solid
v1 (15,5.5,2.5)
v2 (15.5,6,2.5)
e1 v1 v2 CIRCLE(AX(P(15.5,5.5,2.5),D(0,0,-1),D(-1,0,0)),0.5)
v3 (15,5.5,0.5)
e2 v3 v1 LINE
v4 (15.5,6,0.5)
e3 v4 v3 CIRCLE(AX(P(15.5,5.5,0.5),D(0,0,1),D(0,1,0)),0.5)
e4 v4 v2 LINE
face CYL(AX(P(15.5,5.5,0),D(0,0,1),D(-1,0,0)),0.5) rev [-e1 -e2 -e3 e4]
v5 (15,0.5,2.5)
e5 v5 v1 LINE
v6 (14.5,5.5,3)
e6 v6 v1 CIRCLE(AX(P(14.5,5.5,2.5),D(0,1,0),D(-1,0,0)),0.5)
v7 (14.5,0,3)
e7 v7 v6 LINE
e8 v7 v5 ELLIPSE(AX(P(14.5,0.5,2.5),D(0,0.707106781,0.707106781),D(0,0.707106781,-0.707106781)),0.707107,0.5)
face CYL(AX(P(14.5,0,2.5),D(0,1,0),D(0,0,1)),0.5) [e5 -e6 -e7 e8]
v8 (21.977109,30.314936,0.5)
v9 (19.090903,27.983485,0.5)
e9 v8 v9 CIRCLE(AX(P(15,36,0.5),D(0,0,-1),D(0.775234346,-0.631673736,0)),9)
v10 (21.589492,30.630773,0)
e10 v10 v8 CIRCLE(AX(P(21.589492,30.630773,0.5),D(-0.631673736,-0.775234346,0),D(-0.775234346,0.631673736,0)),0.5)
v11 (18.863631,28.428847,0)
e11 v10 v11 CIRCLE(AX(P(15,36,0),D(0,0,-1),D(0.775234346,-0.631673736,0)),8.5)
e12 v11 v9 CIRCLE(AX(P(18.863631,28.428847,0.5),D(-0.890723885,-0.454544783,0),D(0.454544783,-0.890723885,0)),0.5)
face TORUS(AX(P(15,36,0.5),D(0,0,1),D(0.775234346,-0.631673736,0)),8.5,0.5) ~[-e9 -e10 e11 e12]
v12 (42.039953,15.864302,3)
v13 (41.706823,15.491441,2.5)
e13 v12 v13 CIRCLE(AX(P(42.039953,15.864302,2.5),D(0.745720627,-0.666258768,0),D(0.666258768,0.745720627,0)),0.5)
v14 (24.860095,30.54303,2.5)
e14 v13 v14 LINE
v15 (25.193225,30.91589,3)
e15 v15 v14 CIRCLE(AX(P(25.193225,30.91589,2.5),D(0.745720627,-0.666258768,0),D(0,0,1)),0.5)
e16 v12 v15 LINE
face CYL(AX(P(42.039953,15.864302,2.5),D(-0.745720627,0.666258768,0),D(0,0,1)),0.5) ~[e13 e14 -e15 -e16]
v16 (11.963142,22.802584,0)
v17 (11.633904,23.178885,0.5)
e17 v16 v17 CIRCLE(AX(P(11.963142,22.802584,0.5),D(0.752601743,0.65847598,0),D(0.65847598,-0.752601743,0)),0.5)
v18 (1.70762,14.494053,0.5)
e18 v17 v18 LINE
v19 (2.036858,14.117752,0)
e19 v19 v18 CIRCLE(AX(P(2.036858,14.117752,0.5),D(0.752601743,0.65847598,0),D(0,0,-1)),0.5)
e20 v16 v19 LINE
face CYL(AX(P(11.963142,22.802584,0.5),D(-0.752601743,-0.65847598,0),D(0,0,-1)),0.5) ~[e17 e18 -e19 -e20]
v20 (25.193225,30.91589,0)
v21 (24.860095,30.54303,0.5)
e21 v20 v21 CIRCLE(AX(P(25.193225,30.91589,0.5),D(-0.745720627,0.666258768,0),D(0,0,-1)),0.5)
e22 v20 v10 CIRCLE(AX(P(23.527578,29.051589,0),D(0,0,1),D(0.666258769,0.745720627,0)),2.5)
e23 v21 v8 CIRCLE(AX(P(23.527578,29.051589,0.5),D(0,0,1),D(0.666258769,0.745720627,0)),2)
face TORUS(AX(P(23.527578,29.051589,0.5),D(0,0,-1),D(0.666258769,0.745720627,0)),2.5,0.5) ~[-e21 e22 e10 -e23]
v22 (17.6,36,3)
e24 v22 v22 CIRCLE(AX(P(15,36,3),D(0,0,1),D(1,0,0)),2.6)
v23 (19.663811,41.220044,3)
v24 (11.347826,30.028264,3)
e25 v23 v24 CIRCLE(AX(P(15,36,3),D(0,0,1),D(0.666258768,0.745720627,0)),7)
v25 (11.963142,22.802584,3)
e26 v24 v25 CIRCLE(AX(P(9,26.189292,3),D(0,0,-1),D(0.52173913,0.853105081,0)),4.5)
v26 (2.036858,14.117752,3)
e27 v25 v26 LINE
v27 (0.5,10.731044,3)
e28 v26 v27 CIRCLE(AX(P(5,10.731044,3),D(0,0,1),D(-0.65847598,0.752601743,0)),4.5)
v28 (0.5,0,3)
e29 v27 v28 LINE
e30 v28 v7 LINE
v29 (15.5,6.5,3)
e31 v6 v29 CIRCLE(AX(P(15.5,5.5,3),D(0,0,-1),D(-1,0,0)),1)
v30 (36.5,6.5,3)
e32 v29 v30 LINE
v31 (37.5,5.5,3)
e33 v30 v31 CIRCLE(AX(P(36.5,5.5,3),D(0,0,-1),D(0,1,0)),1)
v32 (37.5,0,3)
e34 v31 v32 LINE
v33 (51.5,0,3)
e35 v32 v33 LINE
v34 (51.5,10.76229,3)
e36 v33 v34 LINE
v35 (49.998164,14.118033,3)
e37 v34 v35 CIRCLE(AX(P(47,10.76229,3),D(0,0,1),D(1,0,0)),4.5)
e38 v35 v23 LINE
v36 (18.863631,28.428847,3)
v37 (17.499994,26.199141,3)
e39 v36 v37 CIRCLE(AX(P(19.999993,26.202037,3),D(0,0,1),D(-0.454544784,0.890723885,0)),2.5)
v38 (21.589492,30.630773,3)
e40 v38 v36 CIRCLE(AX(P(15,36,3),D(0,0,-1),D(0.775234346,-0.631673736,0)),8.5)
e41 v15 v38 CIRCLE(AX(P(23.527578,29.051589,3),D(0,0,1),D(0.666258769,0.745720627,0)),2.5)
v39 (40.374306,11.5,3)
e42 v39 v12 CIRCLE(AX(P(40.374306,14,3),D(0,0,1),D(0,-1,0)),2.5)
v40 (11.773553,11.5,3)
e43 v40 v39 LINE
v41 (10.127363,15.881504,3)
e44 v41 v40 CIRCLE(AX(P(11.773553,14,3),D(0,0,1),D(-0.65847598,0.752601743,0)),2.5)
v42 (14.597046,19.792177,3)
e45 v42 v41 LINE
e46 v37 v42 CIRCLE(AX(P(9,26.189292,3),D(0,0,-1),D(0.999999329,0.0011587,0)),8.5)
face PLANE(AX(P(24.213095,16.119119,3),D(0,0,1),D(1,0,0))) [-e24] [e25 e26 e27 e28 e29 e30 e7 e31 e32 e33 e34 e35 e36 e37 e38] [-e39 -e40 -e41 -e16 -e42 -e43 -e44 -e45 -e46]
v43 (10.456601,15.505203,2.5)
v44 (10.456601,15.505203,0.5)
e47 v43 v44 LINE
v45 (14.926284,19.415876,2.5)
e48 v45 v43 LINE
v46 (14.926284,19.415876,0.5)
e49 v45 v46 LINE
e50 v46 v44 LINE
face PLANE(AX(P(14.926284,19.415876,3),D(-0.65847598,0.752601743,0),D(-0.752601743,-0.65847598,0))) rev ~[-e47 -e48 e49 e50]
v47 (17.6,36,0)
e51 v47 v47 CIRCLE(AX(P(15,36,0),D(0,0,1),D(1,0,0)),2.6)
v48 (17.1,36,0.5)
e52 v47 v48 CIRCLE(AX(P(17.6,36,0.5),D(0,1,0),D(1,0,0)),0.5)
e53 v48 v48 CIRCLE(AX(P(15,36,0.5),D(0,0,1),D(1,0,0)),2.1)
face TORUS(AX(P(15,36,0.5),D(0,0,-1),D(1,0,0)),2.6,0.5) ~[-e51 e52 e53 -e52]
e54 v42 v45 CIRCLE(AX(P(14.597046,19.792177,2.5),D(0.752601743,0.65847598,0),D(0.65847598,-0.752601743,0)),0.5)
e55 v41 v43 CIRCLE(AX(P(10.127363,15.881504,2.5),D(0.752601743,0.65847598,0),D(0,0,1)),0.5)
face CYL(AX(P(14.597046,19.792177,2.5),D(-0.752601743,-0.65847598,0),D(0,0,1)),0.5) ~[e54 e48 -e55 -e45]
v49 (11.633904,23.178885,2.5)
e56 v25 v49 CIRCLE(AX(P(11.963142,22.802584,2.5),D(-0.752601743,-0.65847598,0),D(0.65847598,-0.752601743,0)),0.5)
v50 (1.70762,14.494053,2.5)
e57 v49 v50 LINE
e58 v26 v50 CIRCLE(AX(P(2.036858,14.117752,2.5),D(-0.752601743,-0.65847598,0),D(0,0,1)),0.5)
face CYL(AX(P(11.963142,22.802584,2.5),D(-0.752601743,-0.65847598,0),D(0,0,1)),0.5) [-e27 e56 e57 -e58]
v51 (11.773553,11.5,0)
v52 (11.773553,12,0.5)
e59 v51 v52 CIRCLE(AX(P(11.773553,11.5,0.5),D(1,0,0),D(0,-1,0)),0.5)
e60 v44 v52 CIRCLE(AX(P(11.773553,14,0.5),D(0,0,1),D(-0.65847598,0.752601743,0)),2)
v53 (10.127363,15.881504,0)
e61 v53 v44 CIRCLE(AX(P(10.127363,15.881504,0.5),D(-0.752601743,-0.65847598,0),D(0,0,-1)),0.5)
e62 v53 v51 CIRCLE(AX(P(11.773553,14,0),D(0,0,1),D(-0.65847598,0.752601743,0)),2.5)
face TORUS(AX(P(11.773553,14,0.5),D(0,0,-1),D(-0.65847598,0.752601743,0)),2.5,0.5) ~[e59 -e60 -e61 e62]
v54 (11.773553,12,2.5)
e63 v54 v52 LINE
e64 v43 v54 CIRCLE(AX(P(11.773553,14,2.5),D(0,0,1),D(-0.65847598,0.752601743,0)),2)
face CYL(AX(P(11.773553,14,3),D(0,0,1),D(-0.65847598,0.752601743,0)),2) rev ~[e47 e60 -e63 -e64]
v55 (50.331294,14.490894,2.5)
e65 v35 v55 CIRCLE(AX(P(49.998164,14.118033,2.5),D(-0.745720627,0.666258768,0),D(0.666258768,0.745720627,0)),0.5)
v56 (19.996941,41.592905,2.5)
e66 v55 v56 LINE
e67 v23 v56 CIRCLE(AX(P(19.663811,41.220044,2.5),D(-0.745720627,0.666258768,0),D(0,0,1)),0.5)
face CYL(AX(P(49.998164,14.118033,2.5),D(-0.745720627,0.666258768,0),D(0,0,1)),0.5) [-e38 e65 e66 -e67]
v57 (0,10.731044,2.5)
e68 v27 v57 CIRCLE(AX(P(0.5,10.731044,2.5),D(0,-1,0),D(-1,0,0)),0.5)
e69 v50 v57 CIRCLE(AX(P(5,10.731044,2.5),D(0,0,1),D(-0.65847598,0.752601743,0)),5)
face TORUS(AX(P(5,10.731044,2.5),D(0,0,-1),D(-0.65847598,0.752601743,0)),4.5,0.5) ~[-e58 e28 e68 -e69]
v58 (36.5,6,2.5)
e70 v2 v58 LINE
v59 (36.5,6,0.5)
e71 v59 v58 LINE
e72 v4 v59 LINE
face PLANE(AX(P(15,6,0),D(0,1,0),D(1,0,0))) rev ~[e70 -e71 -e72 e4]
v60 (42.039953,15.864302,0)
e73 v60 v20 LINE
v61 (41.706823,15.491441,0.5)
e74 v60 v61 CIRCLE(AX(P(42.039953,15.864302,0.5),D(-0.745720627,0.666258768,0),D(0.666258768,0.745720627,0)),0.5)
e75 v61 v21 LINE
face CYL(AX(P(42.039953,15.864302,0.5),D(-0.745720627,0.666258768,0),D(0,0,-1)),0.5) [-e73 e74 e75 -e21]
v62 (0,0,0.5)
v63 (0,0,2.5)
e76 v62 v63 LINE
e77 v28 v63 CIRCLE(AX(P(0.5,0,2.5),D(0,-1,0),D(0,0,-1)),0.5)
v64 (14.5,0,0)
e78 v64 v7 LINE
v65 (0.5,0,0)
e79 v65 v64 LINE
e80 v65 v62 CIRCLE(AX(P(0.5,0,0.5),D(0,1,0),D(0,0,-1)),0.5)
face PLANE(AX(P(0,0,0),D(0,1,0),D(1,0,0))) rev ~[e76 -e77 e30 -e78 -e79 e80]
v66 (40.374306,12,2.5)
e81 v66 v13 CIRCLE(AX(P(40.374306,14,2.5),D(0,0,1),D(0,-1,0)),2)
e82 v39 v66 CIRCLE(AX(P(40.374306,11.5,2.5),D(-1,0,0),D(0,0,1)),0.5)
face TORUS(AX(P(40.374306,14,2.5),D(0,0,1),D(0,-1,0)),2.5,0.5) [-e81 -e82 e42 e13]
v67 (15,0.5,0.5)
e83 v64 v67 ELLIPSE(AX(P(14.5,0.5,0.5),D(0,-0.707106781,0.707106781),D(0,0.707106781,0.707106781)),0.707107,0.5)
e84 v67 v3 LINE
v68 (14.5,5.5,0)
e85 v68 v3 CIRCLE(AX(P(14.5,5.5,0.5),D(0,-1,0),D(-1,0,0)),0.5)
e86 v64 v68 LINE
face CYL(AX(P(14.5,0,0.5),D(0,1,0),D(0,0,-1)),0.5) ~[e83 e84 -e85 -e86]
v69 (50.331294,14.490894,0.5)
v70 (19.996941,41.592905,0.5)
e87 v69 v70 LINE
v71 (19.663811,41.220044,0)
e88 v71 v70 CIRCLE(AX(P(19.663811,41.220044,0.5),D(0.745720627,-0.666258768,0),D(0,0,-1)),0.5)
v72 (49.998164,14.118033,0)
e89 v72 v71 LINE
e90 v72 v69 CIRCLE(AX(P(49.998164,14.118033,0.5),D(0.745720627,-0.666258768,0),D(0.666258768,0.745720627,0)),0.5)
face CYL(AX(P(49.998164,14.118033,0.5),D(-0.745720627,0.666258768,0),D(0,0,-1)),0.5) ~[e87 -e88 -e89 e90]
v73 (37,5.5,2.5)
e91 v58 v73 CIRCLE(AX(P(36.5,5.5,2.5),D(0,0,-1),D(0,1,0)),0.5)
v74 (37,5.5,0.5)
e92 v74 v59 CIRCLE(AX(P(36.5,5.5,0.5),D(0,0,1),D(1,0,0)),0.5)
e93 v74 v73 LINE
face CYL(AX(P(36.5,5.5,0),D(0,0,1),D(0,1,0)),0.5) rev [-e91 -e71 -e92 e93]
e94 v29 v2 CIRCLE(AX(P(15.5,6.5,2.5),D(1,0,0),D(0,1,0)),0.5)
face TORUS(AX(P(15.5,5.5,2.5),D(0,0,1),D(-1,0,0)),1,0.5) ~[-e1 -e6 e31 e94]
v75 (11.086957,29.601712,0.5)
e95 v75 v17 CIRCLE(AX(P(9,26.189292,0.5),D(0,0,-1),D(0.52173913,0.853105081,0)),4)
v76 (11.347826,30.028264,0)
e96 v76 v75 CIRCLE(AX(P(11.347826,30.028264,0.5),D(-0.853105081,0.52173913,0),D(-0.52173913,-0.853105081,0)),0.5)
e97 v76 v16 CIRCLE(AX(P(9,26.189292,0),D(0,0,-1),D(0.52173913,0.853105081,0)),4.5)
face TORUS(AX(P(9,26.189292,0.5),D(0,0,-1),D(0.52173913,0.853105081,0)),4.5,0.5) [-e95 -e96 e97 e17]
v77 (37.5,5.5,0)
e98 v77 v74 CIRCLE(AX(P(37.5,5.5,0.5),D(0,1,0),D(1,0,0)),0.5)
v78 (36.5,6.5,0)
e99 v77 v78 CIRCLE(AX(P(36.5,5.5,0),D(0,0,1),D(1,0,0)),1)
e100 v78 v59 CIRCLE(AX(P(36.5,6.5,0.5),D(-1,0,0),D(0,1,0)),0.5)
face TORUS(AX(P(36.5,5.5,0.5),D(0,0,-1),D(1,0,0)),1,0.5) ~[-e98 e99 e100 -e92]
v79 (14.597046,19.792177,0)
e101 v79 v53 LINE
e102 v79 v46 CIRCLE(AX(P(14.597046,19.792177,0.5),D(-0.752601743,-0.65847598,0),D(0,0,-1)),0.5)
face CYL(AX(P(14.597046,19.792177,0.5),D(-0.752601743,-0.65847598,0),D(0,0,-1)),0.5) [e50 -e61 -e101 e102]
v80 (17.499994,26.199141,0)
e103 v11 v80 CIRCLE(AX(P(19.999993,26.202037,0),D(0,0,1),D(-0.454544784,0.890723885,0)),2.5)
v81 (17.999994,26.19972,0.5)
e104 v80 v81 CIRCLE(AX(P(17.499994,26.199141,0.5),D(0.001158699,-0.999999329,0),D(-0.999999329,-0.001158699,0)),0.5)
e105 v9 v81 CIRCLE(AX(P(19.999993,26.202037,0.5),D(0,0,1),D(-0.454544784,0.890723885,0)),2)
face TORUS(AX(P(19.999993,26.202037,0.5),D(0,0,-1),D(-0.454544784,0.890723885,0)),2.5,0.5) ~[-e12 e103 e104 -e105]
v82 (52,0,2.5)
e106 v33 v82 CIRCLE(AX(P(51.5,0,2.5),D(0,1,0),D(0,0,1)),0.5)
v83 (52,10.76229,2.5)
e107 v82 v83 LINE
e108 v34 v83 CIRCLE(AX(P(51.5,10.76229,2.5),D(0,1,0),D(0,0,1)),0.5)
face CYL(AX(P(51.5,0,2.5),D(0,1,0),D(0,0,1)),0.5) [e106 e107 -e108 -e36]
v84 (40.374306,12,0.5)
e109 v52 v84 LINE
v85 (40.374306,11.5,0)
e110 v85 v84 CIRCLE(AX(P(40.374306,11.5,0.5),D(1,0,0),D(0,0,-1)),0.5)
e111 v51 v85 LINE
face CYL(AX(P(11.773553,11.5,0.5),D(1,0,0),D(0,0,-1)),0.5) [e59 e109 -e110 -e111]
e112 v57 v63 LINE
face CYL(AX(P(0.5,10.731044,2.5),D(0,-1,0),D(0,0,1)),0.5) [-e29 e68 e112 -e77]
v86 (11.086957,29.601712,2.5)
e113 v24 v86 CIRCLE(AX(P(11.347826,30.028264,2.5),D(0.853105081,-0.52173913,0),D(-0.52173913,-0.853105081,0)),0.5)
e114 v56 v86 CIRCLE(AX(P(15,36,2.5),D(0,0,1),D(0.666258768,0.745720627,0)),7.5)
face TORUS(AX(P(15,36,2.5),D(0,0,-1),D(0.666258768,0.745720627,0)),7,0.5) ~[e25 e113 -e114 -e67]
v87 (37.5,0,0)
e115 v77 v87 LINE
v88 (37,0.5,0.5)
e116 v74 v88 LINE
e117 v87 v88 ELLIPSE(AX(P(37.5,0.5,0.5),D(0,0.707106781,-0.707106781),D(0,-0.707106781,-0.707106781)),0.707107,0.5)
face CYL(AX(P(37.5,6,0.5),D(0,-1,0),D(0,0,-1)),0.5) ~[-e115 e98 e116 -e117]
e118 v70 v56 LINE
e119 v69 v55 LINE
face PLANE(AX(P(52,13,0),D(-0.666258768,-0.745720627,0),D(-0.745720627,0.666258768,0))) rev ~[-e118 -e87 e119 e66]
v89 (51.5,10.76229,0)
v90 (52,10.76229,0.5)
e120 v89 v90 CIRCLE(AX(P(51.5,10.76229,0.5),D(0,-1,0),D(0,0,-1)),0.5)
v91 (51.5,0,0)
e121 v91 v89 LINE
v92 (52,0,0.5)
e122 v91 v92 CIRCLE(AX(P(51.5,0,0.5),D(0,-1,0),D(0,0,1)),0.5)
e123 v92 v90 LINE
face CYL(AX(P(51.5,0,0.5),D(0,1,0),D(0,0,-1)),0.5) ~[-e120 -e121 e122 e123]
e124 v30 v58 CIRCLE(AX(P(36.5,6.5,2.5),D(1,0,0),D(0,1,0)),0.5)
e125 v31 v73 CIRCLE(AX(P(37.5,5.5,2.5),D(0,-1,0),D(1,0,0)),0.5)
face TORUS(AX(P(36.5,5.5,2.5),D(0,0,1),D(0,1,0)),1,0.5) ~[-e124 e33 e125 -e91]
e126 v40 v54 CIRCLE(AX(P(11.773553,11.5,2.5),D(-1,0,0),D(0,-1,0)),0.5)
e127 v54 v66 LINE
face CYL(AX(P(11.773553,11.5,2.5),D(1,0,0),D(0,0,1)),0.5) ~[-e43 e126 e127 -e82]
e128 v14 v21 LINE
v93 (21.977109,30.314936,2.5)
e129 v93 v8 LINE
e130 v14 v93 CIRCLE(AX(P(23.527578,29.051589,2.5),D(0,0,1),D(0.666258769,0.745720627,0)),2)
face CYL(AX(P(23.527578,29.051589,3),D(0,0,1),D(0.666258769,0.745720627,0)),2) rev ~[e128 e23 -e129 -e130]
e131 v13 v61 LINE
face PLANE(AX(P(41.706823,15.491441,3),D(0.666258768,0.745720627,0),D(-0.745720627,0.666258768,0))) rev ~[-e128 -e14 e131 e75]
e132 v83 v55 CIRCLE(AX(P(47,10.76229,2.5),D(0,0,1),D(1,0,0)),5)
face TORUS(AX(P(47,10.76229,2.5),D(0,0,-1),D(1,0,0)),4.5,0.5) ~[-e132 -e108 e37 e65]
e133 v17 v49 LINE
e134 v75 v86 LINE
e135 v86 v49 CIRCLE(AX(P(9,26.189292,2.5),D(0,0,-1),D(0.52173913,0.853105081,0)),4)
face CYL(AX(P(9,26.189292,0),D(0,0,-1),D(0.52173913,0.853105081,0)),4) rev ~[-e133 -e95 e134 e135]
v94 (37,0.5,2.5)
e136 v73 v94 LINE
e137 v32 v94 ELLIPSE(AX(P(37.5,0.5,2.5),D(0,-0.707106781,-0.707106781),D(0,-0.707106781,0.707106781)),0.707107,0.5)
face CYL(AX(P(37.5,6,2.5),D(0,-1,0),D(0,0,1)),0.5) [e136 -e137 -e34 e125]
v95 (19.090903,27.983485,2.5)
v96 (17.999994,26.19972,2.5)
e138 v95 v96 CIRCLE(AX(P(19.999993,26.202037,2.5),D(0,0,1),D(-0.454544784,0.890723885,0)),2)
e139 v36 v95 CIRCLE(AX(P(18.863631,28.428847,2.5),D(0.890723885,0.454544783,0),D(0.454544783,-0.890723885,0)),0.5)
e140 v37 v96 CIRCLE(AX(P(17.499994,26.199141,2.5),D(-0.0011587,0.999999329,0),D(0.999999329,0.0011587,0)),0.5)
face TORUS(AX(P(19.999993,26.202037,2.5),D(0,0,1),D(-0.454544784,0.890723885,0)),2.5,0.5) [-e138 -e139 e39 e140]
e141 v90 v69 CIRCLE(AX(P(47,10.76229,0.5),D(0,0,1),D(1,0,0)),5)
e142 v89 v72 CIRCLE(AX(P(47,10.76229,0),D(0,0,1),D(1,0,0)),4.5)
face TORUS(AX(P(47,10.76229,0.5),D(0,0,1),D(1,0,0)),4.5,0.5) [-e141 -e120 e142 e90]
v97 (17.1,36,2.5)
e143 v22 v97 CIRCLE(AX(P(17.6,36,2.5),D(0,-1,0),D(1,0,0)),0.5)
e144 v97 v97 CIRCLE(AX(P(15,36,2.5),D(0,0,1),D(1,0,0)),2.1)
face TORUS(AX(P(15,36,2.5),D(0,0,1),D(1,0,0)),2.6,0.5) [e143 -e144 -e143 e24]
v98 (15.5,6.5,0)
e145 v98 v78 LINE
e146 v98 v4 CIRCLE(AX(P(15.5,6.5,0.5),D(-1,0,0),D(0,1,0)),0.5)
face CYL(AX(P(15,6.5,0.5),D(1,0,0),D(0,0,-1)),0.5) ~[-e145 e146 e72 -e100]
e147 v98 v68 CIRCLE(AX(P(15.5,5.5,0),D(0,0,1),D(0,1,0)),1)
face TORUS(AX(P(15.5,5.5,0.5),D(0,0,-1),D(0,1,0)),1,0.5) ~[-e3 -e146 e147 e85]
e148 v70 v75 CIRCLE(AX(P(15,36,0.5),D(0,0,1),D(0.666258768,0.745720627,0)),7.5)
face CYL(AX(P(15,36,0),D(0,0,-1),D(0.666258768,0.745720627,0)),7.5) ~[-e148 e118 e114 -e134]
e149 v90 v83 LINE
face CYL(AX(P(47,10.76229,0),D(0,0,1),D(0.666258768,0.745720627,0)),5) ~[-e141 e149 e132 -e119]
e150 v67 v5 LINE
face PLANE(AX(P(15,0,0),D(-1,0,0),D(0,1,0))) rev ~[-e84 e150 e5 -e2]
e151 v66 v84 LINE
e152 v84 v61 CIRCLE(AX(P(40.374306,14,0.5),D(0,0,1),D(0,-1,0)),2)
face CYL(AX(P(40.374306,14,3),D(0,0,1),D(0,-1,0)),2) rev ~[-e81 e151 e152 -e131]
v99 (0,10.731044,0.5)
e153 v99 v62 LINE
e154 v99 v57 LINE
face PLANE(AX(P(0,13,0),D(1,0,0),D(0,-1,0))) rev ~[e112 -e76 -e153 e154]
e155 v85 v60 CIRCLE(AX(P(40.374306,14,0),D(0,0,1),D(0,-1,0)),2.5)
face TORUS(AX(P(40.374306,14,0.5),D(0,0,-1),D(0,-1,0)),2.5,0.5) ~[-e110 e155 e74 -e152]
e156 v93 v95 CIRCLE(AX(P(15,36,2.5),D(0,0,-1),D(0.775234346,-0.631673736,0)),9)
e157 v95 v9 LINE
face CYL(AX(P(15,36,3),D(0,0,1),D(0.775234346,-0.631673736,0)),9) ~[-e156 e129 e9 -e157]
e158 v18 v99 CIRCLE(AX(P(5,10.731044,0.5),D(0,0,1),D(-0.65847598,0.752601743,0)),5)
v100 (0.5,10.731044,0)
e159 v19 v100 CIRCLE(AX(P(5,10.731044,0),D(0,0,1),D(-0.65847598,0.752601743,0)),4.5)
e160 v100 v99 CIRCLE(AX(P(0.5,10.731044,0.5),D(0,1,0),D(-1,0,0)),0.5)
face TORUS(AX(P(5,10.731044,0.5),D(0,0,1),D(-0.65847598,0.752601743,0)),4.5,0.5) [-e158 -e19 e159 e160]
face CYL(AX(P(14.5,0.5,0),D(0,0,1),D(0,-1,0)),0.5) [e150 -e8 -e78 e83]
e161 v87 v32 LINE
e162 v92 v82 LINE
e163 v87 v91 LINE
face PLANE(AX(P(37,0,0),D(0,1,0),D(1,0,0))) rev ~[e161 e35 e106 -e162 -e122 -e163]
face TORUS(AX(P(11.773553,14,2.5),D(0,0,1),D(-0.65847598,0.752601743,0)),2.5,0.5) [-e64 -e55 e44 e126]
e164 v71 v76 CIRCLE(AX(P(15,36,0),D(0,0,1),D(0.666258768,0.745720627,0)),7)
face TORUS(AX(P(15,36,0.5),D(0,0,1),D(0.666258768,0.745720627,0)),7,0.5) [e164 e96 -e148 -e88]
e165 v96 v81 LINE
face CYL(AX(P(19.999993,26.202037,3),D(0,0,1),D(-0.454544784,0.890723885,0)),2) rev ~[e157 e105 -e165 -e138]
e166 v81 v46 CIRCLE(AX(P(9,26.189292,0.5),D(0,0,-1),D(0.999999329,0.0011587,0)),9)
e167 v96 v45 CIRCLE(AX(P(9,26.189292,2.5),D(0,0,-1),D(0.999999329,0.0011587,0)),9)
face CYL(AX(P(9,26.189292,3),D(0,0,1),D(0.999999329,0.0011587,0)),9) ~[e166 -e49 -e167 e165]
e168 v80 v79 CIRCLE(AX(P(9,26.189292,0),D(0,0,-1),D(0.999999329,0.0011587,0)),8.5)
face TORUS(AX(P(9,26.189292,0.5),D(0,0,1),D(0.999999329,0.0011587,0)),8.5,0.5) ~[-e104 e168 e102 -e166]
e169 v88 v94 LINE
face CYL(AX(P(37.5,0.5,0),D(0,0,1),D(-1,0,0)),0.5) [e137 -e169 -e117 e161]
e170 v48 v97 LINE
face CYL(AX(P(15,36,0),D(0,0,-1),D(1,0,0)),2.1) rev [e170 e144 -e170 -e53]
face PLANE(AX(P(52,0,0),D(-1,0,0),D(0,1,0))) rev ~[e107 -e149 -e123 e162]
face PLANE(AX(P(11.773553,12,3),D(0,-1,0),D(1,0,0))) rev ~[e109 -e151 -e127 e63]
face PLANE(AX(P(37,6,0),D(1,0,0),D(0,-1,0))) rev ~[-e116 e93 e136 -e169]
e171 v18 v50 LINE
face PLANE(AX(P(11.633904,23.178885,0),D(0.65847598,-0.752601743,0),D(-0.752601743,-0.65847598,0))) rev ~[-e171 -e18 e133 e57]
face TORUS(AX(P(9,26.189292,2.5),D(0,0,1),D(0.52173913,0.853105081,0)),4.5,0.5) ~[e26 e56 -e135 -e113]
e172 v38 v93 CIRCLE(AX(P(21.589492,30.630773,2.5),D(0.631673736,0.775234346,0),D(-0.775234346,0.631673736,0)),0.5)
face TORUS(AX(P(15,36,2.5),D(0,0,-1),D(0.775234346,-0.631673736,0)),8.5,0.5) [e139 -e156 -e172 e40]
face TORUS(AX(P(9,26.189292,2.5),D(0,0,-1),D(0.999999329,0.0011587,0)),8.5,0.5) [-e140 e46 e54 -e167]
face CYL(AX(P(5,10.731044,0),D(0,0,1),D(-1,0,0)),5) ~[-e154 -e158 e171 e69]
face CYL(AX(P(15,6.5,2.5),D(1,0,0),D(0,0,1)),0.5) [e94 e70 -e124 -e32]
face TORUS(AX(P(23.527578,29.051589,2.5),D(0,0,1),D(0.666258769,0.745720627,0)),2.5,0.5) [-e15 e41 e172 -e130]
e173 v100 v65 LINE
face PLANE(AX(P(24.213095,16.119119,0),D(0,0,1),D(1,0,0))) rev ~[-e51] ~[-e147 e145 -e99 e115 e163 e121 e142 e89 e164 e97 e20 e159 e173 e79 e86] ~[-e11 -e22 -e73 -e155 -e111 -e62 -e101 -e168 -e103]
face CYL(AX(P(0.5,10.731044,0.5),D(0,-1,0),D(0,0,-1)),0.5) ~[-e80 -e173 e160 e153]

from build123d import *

# Parameters (mm, degrees)
SKETCH1_R           = 2.1
BOSS_EXTRUDE1_DEPTH = 3
FILLET1_R           = 5
CUT_EXTRUDE1_DEPTH  = 10
FILLET2_R           = 0.5


with BuildPart() as part:
    # Sketch1 → Boss-Extrude1 (new body)
    with BuildSketch(Plane.XY):
        with BuildLine():
            Line((0, 0), (15, 0))
            Line((15, 0), (15, 6))
            Line((15, 6), (37, 6))
            Line((37, 6), (37, 0))
            Line((37, 0), (52, 0))
            Line((52, 0), (52, 13))
            Line((52, 13), (19.996940762, 41.592904704))
            ThreePointArc((19.996940762, 41.592904704), (8.979959751, 40.473154971), (11.086956522, 29.60171189))
            ThreePointArc((11.086956522, 29.60171189), (12.985575047, 26.528690369), (11.63390392, 23.178884593))
            Line((11.63390392, 23.178884593), (0, 13))
            Line((0, 13), (0, 0))
        make_face()
        with Locations((15, 36)):
            Circle(SKETCH1_R, mode=Mode.SUBTRACT)
    extrude(amount=BOSS_EXTRUDE1_DEPTH)

    # Fillet1
    fillet1_edges = [part.edges().sort_by_distance(p)[0] for p in [
        (0, 13, 1.5),
        (52, 13, 1.5),
    ]]
    fillet(fillet1_edges, radius=FILLET1_R)

    # Sketch3 → Cut-Extrude1 (cut)
    with BuildSketch(Plane.XY.offset(3)):
        with BuildLine():
            Line((14.926283821, 19.415875878), (10.456600876, 15.505203486))
            ThreePointArc((10.456600876, 15.505203486), (9.901333969, 13.296582262), (11.773552836, 12))
            Line((11.773552836, 12), (40.374305906, 12))
            ThreePointArc((40.374305906, 12), (42.242845778, 13.286866951), (41.706823442, 15.491441254))
            Line((41.706823442, 15.491441254), (24.86009534, 30.543030154))
            ThreePointArc((24.86009534, 30.543030154), (23.369836338, 31.045358604), (21.977109112, 30.314936373))
            ThreePointArc((21.977109112, 30.314936373), (20.655452205, 28.998867209), (19.090903049, 27.983485031))
            ThreePointArc((19.090903049, 27.983485031), (18.293782453, 27.245515521), (17.999993958, 26.199719861))
            ThreePointArc((17.999993958, 26.199719861), (17.197778778, 22.474937905), (14.926283821, 19.415875878))
        make_face()
    extrude(amount=-CUT_EXTRUDE1_DEPTH, mode=Mode.SUBTRACT)

    # Fillet2
    fillet2_edges = [part.edges().sort_by_distance(p)[0] for p in [
        (15, 3, 3),
        (6.67076201, 18.836468748, 0),
        (12.985575047, 26.528690369, 0),
        (8.979959751, 40.473154971, 0),
        (52, 5.381145232, 0),
        (37, 3, 0),
        (26, 6, 0),
        (26, 6, 3),
        (15, 3, 0),
        (37, 3, 3),
        (37, 0, 1.5),
        (37, 6, 1.5),
        (15, 6, 1.5),
        (15, 0, 1.5),
        (52, 5.381145232, 3),
        (12.9, 36, 0),
        (12.9, 36, 3),
        (8.979959751, 40.473154971, 3),
        (12.985575047, 26.528690369, 3),
        (6.67076201, 18.836468748, 3),
        (0, 5.365522094, 0),
        (0, 5.365522094, 3),
        (35.164117301, 28.041899151, 0),
        (51.563796074, 12.804780463, 0),
        (0.446874727, 12.797212198, 0),
        (35.164117301, 28.041899151, 3),
        (51.563796074, 12.804780463, 3),
        (0.446874727, 12.797212198, 3),
        (12.691442348, 17.460539682, 0),
        (9.901333969, 13.296582262, 0),
        (26.073929371, 12, 0),
        (42.242845778, 13.286866951, 0),
        (33.283459391, 23.017235704, 0),
        (23.369836338, 31.045358604, 0),
        (20.655452205, 28.998867209, 0),
        (18.293782453, 27.245515521, 0),
        (17.197778778, 22.474937905, 0),
        (17.197778778, 22.474937905, 3),
        (12.691442348, 17.460539682, 3),
        (9.901333969, 13.296582262, 3),
        (26.073929371, 12, 3),
        (42.242845778, 13.286866951, 3),
        (33.283459391, 23.017235704, 3),
        (23.369836338, 31.045358604, 3),
        (20.655452205, 28.998867209, 3),
        (18.293782453, 27.245515521, 3),
    ]]
    fillet(fillet2_edges, radius=FILLET2_R)


solid = part.part
